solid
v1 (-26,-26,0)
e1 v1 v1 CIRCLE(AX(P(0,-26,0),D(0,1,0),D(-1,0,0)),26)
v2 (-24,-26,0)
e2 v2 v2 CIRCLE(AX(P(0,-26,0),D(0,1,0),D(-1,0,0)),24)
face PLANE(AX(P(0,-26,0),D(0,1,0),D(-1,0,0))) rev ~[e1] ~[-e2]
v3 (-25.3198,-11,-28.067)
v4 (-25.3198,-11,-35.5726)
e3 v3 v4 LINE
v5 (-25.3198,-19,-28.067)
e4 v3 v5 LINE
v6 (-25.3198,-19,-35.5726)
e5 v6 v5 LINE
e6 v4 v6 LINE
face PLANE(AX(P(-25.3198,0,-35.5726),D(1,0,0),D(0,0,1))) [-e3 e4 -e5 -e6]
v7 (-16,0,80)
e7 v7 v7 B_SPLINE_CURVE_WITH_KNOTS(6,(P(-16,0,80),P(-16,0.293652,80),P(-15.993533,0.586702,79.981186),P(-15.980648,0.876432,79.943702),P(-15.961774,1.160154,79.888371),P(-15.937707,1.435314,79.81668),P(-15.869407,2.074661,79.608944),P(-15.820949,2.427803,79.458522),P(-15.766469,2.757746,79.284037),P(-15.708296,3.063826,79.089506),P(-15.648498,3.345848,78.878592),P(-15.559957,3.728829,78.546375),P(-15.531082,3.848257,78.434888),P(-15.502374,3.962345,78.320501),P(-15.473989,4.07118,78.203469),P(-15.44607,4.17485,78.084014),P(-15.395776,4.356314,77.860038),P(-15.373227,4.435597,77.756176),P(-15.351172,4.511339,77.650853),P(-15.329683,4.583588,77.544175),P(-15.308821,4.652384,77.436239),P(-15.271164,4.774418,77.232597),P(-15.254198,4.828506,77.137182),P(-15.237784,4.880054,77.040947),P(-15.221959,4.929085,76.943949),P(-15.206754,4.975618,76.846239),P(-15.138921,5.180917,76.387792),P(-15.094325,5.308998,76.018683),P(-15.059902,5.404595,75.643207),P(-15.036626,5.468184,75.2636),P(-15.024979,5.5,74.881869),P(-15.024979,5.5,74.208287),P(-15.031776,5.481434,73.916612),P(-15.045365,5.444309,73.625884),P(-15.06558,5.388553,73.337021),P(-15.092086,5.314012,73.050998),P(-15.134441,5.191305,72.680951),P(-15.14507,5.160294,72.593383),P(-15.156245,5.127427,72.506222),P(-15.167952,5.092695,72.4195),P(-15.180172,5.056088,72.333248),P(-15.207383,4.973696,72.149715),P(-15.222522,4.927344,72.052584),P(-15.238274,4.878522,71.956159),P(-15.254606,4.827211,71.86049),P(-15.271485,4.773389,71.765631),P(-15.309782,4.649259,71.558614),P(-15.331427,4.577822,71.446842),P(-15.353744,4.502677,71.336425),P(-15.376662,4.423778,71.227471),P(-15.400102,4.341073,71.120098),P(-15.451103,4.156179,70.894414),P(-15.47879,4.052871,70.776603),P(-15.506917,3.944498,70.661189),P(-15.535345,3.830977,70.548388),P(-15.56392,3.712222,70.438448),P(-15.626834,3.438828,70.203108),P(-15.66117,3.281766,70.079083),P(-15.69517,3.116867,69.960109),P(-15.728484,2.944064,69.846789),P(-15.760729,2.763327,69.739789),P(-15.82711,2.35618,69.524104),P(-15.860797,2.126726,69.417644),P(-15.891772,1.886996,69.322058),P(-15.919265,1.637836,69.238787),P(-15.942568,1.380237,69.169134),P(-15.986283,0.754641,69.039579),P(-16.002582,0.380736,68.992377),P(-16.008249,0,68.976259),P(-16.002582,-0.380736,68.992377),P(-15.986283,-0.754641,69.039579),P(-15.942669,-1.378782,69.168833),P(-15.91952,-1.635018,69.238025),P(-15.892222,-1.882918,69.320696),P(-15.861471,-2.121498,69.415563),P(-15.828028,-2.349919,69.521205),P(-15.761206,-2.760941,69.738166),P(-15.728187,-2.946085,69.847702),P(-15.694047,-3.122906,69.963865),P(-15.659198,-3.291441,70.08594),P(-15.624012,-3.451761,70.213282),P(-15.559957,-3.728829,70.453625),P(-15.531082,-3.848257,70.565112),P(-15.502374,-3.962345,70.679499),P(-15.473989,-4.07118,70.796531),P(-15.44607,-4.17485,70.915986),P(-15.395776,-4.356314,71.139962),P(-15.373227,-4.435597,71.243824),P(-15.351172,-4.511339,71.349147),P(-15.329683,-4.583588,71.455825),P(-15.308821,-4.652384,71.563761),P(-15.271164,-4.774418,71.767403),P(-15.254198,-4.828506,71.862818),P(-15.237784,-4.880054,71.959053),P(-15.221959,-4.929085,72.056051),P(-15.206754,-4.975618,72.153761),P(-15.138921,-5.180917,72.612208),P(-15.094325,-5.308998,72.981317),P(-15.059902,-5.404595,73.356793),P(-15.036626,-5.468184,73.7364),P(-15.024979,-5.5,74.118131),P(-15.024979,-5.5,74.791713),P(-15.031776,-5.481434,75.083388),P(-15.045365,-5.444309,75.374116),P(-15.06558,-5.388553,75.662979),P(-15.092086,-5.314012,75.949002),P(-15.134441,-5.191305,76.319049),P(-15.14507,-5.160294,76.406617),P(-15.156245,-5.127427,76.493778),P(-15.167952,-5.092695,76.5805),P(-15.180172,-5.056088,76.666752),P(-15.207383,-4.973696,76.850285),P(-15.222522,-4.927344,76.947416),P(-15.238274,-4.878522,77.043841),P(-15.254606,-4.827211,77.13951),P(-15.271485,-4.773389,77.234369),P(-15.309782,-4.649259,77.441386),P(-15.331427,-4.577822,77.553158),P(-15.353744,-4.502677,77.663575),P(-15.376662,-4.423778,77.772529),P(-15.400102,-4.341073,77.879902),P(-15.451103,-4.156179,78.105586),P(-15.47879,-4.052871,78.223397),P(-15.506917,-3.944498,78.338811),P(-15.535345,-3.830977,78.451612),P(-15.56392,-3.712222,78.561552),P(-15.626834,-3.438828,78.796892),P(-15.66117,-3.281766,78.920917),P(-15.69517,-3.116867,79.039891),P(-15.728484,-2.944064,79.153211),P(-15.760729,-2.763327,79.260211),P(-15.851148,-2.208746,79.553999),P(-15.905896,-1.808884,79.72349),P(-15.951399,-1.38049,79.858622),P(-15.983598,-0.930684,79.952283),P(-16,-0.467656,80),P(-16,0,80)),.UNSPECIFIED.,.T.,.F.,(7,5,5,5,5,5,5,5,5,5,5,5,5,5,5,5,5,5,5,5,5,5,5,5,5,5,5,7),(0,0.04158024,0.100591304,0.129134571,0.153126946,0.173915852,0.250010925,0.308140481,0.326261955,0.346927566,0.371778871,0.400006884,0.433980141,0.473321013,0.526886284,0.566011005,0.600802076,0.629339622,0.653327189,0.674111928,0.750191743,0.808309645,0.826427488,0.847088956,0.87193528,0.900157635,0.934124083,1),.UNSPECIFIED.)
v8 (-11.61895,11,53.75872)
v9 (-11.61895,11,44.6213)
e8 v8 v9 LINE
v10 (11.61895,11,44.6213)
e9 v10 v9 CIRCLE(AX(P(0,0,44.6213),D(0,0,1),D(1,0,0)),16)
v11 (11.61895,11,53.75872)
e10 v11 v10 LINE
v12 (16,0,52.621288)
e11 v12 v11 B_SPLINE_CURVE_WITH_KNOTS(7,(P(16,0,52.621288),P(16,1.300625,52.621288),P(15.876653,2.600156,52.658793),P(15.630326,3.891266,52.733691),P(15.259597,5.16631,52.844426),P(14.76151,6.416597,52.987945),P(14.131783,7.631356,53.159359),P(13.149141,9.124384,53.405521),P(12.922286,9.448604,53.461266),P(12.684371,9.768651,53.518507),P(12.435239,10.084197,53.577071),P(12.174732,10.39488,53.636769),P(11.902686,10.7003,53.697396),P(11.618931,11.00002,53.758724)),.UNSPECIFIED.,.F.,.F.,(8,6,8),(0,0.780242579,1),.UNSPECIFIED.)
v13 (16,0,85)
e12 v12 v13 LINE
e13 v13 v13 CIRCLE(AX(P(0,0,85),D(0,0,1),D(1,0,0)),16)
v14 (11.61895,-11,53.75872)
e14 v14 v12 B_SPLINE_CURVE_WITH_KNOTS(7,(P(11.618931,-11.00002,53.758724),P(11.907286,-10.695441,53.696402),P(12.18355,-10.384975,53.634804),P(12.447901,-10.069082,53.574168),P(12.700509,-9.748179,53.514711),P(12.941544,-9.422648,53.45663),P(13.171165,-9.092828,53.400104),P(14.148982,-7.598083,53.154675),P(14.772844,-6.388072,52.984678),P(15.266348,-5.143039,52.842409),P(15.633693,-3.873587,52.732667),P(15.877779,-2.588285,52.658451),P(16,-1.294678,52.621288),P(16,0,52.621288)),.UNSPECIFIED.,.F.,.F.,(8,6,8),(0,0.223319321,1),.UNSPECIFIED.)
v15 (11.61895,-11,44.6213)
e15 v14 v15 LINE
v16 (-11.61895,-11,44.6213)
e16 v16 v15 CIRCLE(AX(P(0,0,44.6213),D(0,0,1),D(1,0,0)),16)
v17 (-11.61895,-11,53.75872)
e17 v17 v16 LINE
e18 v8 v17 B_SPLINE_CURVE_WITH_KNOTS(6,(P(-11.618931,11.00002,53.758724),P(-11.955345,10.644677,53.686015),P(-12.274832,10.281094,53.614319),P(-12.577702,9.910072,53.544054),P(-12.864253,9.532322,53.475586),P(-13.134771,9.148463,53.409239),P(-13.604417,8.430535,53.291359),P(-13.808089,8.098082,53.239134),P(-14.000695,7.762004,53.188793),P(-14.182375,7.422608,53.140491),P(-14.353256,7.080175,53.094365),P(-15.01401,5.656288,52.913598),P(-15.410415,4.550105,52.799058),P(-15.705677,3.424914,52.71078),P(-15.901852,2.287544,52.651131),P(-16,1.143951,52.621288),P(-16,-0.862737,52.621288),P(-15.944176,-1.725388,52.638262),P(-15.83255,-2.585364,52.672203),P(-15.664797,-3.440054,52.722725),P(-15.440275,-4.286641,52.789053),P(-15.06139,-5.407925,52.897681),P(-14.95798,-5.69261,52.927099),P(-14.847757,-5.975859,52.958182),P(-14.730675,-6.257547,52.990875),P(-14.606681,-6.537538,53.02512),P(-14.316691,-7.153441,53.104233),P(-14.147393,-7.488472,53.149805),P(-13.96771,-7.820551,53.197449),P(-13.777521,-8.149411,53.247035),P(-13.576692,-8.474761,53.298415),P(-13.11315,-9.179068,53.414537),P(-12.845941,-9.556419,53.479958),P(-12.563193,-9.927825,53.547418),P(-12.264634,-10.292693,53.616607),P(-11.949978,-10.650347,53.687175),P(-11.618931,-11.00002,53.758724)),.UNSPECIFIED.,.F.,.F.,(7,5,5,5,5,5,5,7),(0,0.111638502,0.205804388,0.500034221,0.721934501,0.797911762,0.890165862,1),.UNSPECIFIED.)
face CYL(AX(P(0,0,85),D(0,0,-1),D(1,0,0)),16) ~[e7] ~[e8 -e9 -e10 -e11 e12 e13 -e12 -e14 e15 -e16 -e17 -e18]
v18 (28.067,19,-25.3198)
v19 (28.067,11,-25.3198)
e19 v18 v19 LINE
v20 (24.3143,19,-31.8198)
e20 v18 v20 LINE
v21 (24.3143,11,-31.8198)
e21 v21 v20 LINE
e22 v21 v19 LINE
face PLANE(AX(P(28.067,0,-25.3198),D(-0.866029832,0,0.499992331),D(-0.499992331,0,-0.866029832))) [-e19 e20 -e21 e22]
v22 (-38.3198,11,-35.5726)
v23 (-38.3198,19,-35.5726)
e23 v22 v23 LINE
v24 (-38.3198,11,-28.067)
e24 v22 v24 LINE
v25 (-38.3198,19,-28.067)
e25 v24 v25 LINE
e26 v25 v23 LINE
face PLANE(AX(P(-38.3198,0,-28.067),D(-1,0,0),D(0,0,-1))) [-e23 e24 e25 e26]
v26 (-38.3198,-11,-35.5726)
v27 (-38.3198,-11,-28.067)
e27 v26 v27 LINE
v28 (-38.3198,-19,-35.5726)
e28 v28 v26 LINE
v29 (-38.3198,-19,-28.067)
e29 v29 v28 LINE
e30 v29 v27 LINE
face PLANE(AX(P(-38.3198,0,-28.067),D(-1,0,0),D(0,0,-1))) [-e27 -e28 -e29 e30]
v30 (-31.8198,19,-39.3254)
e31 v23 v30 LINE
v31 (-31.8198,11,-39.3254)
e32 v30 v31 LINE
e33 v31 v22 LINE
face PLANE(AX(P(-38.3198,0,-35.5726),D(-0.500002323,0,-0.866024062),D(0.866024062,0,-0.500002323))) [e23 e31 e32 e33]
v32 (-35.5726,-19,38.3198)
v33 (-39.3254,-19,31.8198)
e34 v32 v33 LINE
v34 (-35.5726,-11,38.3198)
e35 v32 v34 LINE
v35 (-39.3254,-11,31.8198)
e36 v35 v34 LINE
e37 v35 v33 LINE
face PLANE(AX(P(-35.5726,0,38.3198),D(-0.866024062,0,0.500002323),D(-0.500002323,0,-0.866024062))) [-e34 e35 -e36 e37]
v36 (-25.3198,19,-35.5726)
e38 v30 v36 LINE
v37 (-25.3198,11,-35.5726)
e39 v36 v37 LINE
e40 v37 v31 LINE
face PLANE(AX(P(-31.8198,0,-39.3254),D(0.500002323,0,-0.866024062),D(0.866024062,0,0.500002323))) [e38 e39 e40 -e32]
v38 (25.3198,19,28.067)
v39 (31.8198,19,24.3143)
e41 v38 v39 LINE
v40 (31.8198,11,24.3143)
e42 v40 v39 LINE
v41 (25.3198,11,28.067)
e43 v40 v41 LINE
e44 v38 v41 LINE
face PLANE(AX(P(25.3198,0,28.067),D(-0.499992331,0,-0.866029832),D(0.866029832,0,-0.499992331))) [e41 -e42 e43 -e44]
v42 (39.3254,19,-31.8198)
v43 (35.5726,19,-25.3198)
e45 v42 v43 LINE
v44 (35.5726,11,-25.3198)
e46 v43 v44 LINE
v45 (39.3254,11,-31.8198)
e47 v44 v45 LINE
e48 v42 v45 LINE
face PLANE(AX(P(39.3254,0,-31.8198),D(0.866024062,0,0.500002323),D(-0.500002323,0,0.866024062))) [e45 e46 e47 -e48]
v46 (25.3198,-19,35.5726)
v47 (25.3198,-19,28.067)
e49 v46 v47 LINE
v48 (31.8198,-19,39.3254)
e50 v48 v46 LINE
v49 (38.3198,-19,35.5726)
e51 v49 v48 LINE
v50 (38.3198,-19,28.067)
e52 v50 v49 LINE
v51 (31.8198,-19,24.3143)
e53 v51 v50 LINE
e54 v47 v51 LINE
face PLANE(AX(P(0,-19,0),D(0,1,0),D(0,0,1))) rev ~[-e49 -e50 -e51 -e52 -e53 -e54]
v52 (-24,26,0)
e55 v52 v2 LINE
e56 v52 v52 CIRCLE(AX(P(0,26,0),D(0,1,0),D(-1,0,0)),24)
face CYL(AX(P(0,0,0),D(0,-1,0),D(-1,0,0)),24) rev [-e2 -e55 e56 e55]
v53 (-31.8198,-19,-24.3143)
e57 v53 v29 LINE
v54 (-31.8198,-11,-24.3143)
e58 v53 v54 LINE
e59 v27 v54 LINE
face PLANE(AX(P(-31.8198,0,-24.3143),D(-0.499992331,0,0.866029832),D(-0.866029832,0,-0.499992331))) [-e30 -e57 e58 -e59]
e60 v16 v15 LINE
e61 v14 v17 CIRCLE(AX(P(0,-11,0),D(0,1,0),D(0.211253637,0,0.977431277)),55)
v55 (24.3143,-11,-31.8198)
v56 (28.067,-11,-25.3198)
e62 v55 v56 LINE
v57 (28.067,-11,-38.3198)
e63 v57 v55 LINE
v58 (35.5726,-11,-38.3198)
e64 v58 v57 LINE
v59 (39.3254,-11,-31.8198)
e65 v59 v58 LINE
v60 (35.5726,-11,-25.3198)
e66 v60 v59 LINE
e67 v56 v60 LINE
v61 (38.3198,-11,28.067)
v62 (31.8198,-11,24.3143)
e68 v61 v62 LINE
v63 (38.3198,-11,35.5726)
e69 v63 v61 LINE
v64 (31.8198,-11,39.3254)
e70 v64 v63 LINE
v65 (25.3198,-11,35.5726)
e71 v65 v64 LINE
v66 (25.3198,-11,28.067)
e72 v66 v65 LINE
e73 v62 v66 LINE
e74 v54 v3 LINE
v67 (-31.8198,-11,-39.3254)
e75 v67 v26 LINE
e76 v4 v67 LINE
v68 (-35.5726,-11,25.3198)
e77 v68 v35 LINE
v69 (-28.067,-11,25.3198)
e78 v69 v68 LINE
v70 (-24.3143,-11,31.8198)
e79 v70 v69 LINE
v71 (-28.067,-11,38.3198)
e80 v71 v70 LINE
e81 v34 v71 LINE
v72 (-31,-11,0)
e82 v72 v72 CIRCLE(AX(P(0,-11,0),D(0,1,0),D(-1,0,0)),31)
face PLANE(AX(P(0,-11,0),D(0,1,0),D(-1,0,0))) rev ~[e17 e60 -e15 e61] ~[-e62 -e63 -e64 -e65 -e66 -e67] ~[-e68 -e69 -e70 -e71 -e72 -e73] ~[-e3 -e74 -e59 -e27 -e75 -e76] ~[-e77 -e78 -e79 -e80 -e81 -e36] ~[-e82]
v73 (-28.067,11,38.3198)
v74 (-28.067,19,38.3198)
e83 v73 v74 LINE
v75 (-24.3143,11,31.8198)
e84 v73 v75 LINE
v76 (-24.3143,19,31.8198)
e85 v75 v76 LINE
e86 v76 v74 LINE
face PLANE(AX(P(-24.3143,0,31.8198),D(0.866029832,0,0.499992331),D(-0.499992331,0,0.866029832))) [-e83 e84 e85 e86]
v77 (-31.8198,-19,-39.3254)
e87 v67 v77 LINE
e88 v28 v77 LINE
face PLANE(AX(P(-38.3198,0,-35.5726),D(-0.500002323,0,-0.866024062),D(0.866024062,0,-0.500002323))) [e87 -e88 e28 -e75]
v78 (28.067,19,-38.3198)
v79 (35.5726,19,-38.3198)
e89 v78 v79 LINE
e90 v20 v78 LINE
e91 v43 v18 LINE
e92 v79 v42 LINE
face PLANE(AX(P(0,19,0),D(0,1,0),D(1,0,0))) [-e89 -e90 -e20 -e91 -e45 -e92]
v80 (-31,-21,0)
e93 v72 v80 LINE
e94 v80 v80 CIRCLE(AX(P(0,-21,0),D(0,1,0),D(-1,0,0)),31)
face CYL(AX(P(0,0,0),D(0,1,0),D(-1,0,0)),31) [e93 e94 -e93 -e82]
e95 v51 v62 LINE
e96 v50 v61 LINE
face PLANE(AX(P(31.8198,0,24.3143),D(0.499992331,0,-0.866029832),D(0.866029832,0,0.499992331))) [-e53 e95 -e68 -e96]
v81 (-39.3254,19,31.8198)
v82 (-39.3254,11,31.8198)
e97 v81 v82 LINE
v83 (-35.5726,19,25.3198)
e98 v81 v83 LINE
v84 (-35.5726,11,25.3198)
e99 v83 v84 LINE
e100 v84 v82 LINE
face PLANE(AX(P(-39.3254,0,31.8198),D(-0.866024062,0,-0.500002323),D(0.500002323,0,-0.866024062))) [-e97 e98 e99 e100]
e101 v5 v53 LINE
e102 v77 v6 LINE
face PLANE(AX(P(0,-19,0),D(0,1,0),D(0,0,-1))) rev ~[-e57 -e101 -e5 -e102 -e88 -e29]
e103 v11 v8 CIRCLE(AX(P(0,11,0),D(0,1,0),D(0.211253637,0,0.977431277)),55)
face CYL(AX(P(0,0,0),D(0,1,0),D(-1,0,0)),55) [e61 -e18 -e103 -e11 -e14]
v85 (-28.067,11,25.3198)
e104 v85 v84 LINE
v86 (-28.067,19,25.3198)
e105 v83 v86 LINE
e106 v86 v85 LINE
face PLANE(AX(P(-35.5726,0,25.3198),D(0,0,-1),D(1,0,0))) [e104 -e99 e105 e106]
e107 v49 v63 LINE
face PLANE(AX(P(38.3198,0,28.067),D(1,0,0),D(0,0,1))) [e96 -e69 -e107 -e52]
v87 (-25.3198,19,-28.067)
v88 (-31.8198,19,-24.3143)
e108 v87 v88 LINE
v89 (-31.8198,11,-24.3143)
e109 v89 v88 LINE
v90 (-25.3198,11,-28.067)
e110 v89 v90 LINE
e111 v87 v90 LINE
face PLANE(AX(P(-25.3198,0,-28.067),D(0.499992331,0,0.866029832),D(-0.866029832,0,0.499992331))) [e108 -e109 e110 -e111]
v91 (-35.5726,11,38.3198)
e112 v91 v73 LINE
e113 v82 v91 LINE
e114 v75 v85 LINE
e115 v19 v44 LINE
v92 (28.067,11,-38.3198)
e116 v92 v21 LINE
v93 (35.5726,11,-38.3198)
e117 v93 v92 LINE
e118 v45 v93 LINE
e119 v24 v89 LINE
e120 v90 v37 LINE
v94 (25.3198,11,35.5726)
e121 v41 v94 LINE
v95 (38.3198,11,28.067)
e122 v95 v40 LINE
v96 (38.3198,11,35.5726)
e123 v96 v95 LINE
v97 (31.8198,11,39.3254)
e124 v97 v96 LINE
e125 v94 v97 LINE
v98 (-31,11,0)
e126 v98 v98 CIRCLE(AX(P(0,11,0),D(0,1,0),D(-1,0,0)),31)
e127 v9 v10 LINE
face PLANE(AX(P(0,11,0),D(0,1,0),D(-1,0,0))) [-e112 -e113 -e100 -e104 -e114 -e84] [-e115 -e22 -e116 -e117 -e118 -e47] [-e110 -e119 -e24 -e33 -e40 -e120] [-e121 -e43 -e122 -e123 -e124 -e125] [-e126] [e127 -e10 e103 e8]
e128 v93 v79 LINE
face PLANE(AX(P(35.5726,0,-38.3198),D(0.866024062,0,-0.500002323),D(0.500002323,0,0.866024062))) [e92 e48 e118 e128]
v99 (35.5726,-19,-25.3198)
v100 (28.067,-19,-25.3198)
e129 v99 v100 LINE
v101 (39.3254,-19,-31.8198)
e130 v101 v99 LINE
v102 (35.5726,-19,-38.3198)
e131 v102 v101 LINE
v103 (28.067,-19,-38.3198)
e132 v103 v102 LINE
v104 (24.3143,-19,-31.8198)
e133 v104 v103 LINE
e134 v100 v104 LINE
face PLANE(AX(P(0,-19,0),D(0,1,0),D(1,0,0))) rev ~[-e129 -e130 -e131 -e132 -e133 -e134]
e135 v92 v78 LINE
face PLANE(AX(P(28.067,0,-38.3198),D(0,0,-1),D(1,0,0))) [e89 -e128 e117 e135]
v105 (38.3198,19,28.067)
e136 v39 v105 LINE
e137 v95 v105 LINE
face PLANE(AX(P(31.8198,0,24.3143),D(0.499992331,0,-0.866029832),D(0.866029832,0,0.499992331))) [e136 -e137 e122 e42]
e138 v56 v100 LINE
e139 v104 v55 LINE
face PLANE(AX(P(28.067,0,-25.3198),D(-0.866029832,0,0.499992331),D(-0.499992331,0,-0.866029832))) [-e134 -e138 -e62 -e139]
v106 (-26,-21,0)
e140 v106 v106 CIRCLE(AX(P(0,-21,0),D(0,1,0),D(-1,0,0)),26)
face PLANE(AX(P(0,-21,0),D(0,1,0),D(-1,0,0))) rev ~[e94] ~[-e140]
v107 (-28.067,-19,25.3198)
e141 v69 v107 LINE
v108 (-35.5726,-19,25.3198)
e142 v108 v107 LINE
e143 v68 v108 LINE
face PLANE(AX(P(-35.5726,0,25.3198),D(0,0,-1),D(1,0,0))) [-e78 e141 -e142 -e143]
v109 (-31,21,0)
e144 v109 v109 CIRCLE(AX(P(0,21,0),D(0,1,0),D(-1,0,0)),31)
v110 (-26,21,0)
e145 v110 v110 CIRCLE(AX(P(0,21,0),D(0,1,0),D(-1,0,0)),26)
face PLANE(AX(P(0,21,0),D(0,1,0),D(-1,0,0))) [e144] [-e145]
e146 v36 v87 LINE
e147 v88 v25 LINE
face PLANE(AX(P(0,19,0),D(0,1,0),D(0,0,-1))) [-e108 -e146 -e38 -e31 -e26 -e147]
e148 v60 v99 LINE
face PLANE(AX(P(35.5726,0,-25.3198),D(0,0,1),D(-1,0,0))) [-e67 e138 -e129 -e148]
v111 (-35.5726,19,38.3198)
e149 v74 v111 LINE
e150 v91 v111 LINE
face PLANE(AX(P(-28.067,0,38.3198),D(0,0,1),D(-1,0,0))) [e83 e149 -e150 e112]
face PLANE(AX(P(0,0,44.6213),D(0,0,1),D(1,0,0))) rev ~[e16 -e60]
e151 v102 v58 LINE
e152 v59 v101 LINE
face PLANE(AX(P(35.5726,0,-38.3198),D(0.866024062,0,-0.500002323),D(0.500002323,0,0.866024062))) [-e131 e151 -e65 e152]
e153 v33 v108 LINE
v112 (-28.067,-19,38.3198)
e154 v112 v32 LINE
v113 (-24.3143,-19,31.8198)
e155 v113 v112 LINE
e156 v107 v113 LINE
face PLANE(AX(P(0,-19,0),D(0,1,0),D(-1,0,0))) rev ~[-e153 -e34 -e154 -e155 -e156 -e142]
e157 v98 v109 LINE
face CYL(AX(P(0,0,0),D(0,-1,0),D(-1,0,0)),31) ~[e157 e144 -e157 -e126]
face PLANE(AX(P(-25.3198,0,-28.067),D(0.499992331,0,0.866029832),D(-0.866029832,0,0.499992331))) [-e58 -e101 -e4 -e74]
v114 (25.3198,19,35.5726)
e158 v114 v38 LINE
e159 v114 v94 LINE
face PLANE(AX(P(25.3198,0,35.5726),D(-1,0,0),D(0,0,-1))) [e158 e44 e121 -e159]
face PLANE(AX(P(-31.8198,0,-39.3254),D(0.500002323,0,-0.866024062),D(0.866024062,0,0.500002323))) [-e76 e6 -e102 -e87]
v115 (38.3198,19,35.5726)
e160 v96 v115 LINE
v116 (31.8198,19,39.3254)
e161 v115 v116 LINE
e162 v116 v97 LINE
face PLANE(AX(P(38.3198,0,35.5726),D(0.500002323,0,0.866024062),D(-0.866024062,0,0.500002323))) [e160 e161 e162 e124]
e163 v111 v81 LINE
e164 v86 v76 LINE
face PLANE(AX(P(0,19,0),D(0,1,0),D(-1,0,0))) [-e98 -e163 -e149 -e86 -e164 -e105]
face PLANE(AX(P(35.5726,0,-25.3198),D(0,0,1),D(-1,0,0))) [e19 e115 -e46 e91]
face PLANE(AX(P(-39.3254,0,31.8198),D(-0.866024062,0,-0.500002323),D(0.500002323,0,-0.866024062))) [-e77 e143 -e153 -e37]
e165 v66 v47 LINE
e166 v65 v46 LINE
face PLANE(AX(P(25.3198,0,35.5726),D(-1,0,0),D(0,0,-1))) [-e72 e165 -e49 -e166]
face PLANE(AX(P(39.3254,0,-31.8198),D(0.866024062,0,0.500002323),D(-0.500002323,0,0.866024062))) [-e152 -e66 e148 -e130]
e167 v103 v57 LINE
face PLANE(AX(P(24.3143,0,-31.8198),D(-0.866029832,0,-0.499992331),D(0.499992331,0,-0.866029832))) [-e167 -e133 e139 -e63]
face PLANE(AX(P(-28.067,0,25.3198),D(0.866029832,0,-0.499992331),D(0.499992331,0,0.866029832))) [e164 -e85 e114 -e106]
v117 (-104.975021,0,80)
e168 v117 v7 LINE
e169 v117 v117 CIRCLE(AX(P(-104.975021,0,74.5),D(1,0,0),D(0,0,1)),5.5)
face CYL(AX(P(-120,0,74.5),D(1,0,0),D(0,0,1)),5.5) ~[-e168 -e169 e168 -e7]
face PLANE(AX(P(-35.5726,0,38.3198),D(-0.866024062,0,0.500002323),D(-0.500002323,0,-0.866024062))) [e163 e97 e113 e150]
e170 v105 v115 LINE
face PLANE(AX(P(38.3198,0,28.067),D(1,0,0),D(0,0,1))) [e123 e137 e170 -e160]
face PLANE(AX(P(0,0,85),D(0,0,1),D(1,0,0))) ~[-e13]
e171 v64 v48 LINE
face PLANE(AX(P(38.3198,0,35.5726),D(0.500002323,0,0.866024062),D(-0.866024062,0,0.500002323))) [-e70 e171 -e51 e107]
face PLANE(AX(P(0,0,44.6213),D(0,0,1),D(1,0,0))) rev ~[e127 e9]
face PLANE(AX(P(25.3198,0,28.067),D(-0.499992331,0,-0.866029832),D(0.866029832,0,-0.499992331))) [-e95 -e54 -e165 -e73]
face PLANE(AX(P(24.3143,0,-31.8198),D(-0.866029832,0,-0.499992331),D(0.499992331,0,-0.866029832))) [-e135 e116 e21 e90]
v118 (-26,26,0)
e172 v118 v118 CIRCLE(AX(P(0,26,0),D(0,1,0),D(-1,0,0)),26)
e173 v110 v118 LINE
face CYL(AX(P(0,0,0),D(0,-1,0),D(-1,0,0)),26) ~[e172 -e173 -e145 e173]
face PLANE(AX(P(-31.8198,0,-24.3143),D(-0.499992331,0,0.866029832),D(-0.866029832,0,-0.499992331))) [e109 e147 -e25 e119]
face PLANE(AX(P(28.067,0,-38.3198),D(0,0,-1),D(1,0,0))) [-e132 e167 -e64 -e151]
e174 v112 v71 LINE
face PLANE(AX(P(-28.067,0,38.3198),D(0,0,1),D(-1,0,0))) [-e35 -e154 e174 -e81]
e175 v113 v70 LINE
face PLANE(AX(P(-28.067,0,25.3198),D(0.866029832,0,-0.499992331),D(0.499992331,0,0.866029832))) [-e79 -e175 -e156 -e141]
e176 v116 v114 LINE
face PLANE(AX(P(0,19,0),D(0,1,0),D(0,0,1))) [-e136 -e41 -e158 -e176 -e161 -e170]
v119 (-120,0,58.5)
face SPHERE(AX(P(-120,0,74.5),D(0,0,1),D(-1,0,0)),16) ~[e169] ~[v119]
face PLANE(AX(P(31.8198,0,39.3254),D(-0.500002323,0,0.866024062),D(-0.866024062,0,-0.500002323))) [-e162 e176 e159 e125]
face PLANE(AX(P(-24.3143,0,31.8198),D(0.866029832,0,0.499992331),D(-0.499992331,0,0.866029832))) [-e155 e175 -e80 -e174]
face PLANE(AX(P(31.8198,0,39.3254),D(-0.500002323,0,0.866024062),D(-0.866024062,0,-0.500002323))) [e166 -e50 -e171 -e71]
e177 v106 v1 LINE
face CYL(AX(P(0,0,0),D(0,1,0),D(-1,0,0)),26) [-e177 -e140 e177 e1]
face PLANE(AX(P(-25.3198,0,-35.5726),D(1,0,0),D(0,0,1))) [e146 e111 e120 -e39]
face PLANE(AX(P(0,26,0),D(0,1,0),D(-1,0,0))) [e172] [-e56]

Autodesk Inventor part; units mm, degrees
ref_plane "YZ Plane" through (0, 0, 0) normal (1, 0, 0) x (0, 1, 0)
ref_plane "XZ Plane" through (0, 0, 0) normal (0, 1, 0) x (-1, 0, 0)
ref_plane "XY Plane" through (0, 0, 0) normal (0, 0, 1) x (1, 0, 0)
sketch "Sketch11" plane through (0, 0, 0) normal (0, 1, 0) x (-1, 0, 0)
  circle A0 centre (0, 0) radius 26
  circle A1 centre (0, 0) radius 24
  circle A2 centre (0, 0) radius 31
  circle A3 centre (0, 0) radius 55
  line L0 (35.5726, 38.3198) -> (39.3254, 31.8198)
  line L1 (39.3254, 31.8198) -> (35.5726, 25.3198)
  line L2 (35.5726, 25.3198) -> (28.067, 25.3198)
  line L3 (28.067, 25.3198) -> (24.3143, 31.8198)
  line L4 (24.3143, 31.8198) -> (28.067, 38.3198)
  line L5 (28.067, 38.3198) -> (35.5726, 38.3198)
  line L6 (0, 0) -> (31.8198, 31.8198) construction
  line L7 (0, 0) -> (45, 0) construction
  line L8 (35.5726, 38.3198) -> (28.067, 25.3198) construction
  line L9 (28.067, 38.3198) -> (35.5726, 25.3198) construction
  line L10 (39.3254, 31.8198) -> (24.3143, 31.8198) construction
  line L11 (0, 52.6213) -> (0, 85)
  line L12 (0, 85) -> (-16, 85)
  line L13 (-16, 85) -> (-16, 52.6213)
  line L14 (0, 74.5) -> (120, 74.5)
  line L15 (120, 74.5) -> (120, 80)
  line L16 (120, 80) -> (0, 80)
  line L17 (0, 80) -> (0, 74.5)
  line L18 (120, 90.5) -> (120, 58.5)
  arc A4 (120, 58.5) -> (120, 90.5) centre (120, 74.5) ccw
  line L19 (-16, 52.6213) -> (0, 52.6213)
  line L20 (0, 52.6213) -> (-16, 52.6213)
  line L21 (-16, 52.6213) -> (-16, 44.6213)
  line L22 (-16, 44.6213) -> (0, 44.6213)
  line L23 (0, 44.6213) -> (0, 52.6213)
  dimension "oOuterDia" = 110
  dimension "oPipeDia" = 52
  dimension "oPipeWall" = 2
  dimension "oPipeLenght" = 5
  dimension "oKdia" = 45
  dimension "d70" = 45
  dimension "oSW" = 13
  dimension "oCenterTop" = 85
  dimension "d78" = 16
  dimension "oHandleLenght" = 120
  dimension "d80" = 5.5
  dimension "d81" = 32
  dimension "d82" = 5
  dimension "d86" = 8
extrude "Extrusion12" add sketch "Sketch11" along normal mid plane 52 contours A0
extrude "Extrusion13" add sketch "Sketch11" along normal mid plane 42 contours A2
extrude "Extrusion14" add sketch "Sketch11" along normal mid plane 22 contours L21 L22 L23 L11 A3 | A3 L11 L19 | L19 L23 L22 L21 | L0 L1 L2 L3 L4 L5
extrude "Extrusion15" add sketch "Sketch11" along normal mid plane 38 contours L0 L1 L2 L3 L4 L5
pattern_circular "Circular Pattern2" count 4 over 360 about axis through (0, 0, 0) along (0, 1, 0) of "Extrusion15"
revolve "Revolution1" add sketch "Sketch11" angle 360 about axis through (0, 0, 52.6213) along (0, 0, 1) contours L13 L12 L11 A3 | A3 L11 L19 | L19 L23 L22 L21
revolve "Revolution2" add sketch "Sketch11" angle 360 about axis through (0, 0, 74.5) along (-1, 0, 0) contours L11 L16 L15 L14
revolve "Revolution3" add sketch "Sketch11" angle 360 about axis through (-120, 0, 90.5) along (0, 0, -1) contours L15 L18 A4
equation "\"d65\" = -2 * oPipeLenght + oValveLenght"
equation "\"oValveLenght\" = 52"
properties part number "MANUAL SANITARY BUTTERFLY VALVE 304L DN50" material "304L"
